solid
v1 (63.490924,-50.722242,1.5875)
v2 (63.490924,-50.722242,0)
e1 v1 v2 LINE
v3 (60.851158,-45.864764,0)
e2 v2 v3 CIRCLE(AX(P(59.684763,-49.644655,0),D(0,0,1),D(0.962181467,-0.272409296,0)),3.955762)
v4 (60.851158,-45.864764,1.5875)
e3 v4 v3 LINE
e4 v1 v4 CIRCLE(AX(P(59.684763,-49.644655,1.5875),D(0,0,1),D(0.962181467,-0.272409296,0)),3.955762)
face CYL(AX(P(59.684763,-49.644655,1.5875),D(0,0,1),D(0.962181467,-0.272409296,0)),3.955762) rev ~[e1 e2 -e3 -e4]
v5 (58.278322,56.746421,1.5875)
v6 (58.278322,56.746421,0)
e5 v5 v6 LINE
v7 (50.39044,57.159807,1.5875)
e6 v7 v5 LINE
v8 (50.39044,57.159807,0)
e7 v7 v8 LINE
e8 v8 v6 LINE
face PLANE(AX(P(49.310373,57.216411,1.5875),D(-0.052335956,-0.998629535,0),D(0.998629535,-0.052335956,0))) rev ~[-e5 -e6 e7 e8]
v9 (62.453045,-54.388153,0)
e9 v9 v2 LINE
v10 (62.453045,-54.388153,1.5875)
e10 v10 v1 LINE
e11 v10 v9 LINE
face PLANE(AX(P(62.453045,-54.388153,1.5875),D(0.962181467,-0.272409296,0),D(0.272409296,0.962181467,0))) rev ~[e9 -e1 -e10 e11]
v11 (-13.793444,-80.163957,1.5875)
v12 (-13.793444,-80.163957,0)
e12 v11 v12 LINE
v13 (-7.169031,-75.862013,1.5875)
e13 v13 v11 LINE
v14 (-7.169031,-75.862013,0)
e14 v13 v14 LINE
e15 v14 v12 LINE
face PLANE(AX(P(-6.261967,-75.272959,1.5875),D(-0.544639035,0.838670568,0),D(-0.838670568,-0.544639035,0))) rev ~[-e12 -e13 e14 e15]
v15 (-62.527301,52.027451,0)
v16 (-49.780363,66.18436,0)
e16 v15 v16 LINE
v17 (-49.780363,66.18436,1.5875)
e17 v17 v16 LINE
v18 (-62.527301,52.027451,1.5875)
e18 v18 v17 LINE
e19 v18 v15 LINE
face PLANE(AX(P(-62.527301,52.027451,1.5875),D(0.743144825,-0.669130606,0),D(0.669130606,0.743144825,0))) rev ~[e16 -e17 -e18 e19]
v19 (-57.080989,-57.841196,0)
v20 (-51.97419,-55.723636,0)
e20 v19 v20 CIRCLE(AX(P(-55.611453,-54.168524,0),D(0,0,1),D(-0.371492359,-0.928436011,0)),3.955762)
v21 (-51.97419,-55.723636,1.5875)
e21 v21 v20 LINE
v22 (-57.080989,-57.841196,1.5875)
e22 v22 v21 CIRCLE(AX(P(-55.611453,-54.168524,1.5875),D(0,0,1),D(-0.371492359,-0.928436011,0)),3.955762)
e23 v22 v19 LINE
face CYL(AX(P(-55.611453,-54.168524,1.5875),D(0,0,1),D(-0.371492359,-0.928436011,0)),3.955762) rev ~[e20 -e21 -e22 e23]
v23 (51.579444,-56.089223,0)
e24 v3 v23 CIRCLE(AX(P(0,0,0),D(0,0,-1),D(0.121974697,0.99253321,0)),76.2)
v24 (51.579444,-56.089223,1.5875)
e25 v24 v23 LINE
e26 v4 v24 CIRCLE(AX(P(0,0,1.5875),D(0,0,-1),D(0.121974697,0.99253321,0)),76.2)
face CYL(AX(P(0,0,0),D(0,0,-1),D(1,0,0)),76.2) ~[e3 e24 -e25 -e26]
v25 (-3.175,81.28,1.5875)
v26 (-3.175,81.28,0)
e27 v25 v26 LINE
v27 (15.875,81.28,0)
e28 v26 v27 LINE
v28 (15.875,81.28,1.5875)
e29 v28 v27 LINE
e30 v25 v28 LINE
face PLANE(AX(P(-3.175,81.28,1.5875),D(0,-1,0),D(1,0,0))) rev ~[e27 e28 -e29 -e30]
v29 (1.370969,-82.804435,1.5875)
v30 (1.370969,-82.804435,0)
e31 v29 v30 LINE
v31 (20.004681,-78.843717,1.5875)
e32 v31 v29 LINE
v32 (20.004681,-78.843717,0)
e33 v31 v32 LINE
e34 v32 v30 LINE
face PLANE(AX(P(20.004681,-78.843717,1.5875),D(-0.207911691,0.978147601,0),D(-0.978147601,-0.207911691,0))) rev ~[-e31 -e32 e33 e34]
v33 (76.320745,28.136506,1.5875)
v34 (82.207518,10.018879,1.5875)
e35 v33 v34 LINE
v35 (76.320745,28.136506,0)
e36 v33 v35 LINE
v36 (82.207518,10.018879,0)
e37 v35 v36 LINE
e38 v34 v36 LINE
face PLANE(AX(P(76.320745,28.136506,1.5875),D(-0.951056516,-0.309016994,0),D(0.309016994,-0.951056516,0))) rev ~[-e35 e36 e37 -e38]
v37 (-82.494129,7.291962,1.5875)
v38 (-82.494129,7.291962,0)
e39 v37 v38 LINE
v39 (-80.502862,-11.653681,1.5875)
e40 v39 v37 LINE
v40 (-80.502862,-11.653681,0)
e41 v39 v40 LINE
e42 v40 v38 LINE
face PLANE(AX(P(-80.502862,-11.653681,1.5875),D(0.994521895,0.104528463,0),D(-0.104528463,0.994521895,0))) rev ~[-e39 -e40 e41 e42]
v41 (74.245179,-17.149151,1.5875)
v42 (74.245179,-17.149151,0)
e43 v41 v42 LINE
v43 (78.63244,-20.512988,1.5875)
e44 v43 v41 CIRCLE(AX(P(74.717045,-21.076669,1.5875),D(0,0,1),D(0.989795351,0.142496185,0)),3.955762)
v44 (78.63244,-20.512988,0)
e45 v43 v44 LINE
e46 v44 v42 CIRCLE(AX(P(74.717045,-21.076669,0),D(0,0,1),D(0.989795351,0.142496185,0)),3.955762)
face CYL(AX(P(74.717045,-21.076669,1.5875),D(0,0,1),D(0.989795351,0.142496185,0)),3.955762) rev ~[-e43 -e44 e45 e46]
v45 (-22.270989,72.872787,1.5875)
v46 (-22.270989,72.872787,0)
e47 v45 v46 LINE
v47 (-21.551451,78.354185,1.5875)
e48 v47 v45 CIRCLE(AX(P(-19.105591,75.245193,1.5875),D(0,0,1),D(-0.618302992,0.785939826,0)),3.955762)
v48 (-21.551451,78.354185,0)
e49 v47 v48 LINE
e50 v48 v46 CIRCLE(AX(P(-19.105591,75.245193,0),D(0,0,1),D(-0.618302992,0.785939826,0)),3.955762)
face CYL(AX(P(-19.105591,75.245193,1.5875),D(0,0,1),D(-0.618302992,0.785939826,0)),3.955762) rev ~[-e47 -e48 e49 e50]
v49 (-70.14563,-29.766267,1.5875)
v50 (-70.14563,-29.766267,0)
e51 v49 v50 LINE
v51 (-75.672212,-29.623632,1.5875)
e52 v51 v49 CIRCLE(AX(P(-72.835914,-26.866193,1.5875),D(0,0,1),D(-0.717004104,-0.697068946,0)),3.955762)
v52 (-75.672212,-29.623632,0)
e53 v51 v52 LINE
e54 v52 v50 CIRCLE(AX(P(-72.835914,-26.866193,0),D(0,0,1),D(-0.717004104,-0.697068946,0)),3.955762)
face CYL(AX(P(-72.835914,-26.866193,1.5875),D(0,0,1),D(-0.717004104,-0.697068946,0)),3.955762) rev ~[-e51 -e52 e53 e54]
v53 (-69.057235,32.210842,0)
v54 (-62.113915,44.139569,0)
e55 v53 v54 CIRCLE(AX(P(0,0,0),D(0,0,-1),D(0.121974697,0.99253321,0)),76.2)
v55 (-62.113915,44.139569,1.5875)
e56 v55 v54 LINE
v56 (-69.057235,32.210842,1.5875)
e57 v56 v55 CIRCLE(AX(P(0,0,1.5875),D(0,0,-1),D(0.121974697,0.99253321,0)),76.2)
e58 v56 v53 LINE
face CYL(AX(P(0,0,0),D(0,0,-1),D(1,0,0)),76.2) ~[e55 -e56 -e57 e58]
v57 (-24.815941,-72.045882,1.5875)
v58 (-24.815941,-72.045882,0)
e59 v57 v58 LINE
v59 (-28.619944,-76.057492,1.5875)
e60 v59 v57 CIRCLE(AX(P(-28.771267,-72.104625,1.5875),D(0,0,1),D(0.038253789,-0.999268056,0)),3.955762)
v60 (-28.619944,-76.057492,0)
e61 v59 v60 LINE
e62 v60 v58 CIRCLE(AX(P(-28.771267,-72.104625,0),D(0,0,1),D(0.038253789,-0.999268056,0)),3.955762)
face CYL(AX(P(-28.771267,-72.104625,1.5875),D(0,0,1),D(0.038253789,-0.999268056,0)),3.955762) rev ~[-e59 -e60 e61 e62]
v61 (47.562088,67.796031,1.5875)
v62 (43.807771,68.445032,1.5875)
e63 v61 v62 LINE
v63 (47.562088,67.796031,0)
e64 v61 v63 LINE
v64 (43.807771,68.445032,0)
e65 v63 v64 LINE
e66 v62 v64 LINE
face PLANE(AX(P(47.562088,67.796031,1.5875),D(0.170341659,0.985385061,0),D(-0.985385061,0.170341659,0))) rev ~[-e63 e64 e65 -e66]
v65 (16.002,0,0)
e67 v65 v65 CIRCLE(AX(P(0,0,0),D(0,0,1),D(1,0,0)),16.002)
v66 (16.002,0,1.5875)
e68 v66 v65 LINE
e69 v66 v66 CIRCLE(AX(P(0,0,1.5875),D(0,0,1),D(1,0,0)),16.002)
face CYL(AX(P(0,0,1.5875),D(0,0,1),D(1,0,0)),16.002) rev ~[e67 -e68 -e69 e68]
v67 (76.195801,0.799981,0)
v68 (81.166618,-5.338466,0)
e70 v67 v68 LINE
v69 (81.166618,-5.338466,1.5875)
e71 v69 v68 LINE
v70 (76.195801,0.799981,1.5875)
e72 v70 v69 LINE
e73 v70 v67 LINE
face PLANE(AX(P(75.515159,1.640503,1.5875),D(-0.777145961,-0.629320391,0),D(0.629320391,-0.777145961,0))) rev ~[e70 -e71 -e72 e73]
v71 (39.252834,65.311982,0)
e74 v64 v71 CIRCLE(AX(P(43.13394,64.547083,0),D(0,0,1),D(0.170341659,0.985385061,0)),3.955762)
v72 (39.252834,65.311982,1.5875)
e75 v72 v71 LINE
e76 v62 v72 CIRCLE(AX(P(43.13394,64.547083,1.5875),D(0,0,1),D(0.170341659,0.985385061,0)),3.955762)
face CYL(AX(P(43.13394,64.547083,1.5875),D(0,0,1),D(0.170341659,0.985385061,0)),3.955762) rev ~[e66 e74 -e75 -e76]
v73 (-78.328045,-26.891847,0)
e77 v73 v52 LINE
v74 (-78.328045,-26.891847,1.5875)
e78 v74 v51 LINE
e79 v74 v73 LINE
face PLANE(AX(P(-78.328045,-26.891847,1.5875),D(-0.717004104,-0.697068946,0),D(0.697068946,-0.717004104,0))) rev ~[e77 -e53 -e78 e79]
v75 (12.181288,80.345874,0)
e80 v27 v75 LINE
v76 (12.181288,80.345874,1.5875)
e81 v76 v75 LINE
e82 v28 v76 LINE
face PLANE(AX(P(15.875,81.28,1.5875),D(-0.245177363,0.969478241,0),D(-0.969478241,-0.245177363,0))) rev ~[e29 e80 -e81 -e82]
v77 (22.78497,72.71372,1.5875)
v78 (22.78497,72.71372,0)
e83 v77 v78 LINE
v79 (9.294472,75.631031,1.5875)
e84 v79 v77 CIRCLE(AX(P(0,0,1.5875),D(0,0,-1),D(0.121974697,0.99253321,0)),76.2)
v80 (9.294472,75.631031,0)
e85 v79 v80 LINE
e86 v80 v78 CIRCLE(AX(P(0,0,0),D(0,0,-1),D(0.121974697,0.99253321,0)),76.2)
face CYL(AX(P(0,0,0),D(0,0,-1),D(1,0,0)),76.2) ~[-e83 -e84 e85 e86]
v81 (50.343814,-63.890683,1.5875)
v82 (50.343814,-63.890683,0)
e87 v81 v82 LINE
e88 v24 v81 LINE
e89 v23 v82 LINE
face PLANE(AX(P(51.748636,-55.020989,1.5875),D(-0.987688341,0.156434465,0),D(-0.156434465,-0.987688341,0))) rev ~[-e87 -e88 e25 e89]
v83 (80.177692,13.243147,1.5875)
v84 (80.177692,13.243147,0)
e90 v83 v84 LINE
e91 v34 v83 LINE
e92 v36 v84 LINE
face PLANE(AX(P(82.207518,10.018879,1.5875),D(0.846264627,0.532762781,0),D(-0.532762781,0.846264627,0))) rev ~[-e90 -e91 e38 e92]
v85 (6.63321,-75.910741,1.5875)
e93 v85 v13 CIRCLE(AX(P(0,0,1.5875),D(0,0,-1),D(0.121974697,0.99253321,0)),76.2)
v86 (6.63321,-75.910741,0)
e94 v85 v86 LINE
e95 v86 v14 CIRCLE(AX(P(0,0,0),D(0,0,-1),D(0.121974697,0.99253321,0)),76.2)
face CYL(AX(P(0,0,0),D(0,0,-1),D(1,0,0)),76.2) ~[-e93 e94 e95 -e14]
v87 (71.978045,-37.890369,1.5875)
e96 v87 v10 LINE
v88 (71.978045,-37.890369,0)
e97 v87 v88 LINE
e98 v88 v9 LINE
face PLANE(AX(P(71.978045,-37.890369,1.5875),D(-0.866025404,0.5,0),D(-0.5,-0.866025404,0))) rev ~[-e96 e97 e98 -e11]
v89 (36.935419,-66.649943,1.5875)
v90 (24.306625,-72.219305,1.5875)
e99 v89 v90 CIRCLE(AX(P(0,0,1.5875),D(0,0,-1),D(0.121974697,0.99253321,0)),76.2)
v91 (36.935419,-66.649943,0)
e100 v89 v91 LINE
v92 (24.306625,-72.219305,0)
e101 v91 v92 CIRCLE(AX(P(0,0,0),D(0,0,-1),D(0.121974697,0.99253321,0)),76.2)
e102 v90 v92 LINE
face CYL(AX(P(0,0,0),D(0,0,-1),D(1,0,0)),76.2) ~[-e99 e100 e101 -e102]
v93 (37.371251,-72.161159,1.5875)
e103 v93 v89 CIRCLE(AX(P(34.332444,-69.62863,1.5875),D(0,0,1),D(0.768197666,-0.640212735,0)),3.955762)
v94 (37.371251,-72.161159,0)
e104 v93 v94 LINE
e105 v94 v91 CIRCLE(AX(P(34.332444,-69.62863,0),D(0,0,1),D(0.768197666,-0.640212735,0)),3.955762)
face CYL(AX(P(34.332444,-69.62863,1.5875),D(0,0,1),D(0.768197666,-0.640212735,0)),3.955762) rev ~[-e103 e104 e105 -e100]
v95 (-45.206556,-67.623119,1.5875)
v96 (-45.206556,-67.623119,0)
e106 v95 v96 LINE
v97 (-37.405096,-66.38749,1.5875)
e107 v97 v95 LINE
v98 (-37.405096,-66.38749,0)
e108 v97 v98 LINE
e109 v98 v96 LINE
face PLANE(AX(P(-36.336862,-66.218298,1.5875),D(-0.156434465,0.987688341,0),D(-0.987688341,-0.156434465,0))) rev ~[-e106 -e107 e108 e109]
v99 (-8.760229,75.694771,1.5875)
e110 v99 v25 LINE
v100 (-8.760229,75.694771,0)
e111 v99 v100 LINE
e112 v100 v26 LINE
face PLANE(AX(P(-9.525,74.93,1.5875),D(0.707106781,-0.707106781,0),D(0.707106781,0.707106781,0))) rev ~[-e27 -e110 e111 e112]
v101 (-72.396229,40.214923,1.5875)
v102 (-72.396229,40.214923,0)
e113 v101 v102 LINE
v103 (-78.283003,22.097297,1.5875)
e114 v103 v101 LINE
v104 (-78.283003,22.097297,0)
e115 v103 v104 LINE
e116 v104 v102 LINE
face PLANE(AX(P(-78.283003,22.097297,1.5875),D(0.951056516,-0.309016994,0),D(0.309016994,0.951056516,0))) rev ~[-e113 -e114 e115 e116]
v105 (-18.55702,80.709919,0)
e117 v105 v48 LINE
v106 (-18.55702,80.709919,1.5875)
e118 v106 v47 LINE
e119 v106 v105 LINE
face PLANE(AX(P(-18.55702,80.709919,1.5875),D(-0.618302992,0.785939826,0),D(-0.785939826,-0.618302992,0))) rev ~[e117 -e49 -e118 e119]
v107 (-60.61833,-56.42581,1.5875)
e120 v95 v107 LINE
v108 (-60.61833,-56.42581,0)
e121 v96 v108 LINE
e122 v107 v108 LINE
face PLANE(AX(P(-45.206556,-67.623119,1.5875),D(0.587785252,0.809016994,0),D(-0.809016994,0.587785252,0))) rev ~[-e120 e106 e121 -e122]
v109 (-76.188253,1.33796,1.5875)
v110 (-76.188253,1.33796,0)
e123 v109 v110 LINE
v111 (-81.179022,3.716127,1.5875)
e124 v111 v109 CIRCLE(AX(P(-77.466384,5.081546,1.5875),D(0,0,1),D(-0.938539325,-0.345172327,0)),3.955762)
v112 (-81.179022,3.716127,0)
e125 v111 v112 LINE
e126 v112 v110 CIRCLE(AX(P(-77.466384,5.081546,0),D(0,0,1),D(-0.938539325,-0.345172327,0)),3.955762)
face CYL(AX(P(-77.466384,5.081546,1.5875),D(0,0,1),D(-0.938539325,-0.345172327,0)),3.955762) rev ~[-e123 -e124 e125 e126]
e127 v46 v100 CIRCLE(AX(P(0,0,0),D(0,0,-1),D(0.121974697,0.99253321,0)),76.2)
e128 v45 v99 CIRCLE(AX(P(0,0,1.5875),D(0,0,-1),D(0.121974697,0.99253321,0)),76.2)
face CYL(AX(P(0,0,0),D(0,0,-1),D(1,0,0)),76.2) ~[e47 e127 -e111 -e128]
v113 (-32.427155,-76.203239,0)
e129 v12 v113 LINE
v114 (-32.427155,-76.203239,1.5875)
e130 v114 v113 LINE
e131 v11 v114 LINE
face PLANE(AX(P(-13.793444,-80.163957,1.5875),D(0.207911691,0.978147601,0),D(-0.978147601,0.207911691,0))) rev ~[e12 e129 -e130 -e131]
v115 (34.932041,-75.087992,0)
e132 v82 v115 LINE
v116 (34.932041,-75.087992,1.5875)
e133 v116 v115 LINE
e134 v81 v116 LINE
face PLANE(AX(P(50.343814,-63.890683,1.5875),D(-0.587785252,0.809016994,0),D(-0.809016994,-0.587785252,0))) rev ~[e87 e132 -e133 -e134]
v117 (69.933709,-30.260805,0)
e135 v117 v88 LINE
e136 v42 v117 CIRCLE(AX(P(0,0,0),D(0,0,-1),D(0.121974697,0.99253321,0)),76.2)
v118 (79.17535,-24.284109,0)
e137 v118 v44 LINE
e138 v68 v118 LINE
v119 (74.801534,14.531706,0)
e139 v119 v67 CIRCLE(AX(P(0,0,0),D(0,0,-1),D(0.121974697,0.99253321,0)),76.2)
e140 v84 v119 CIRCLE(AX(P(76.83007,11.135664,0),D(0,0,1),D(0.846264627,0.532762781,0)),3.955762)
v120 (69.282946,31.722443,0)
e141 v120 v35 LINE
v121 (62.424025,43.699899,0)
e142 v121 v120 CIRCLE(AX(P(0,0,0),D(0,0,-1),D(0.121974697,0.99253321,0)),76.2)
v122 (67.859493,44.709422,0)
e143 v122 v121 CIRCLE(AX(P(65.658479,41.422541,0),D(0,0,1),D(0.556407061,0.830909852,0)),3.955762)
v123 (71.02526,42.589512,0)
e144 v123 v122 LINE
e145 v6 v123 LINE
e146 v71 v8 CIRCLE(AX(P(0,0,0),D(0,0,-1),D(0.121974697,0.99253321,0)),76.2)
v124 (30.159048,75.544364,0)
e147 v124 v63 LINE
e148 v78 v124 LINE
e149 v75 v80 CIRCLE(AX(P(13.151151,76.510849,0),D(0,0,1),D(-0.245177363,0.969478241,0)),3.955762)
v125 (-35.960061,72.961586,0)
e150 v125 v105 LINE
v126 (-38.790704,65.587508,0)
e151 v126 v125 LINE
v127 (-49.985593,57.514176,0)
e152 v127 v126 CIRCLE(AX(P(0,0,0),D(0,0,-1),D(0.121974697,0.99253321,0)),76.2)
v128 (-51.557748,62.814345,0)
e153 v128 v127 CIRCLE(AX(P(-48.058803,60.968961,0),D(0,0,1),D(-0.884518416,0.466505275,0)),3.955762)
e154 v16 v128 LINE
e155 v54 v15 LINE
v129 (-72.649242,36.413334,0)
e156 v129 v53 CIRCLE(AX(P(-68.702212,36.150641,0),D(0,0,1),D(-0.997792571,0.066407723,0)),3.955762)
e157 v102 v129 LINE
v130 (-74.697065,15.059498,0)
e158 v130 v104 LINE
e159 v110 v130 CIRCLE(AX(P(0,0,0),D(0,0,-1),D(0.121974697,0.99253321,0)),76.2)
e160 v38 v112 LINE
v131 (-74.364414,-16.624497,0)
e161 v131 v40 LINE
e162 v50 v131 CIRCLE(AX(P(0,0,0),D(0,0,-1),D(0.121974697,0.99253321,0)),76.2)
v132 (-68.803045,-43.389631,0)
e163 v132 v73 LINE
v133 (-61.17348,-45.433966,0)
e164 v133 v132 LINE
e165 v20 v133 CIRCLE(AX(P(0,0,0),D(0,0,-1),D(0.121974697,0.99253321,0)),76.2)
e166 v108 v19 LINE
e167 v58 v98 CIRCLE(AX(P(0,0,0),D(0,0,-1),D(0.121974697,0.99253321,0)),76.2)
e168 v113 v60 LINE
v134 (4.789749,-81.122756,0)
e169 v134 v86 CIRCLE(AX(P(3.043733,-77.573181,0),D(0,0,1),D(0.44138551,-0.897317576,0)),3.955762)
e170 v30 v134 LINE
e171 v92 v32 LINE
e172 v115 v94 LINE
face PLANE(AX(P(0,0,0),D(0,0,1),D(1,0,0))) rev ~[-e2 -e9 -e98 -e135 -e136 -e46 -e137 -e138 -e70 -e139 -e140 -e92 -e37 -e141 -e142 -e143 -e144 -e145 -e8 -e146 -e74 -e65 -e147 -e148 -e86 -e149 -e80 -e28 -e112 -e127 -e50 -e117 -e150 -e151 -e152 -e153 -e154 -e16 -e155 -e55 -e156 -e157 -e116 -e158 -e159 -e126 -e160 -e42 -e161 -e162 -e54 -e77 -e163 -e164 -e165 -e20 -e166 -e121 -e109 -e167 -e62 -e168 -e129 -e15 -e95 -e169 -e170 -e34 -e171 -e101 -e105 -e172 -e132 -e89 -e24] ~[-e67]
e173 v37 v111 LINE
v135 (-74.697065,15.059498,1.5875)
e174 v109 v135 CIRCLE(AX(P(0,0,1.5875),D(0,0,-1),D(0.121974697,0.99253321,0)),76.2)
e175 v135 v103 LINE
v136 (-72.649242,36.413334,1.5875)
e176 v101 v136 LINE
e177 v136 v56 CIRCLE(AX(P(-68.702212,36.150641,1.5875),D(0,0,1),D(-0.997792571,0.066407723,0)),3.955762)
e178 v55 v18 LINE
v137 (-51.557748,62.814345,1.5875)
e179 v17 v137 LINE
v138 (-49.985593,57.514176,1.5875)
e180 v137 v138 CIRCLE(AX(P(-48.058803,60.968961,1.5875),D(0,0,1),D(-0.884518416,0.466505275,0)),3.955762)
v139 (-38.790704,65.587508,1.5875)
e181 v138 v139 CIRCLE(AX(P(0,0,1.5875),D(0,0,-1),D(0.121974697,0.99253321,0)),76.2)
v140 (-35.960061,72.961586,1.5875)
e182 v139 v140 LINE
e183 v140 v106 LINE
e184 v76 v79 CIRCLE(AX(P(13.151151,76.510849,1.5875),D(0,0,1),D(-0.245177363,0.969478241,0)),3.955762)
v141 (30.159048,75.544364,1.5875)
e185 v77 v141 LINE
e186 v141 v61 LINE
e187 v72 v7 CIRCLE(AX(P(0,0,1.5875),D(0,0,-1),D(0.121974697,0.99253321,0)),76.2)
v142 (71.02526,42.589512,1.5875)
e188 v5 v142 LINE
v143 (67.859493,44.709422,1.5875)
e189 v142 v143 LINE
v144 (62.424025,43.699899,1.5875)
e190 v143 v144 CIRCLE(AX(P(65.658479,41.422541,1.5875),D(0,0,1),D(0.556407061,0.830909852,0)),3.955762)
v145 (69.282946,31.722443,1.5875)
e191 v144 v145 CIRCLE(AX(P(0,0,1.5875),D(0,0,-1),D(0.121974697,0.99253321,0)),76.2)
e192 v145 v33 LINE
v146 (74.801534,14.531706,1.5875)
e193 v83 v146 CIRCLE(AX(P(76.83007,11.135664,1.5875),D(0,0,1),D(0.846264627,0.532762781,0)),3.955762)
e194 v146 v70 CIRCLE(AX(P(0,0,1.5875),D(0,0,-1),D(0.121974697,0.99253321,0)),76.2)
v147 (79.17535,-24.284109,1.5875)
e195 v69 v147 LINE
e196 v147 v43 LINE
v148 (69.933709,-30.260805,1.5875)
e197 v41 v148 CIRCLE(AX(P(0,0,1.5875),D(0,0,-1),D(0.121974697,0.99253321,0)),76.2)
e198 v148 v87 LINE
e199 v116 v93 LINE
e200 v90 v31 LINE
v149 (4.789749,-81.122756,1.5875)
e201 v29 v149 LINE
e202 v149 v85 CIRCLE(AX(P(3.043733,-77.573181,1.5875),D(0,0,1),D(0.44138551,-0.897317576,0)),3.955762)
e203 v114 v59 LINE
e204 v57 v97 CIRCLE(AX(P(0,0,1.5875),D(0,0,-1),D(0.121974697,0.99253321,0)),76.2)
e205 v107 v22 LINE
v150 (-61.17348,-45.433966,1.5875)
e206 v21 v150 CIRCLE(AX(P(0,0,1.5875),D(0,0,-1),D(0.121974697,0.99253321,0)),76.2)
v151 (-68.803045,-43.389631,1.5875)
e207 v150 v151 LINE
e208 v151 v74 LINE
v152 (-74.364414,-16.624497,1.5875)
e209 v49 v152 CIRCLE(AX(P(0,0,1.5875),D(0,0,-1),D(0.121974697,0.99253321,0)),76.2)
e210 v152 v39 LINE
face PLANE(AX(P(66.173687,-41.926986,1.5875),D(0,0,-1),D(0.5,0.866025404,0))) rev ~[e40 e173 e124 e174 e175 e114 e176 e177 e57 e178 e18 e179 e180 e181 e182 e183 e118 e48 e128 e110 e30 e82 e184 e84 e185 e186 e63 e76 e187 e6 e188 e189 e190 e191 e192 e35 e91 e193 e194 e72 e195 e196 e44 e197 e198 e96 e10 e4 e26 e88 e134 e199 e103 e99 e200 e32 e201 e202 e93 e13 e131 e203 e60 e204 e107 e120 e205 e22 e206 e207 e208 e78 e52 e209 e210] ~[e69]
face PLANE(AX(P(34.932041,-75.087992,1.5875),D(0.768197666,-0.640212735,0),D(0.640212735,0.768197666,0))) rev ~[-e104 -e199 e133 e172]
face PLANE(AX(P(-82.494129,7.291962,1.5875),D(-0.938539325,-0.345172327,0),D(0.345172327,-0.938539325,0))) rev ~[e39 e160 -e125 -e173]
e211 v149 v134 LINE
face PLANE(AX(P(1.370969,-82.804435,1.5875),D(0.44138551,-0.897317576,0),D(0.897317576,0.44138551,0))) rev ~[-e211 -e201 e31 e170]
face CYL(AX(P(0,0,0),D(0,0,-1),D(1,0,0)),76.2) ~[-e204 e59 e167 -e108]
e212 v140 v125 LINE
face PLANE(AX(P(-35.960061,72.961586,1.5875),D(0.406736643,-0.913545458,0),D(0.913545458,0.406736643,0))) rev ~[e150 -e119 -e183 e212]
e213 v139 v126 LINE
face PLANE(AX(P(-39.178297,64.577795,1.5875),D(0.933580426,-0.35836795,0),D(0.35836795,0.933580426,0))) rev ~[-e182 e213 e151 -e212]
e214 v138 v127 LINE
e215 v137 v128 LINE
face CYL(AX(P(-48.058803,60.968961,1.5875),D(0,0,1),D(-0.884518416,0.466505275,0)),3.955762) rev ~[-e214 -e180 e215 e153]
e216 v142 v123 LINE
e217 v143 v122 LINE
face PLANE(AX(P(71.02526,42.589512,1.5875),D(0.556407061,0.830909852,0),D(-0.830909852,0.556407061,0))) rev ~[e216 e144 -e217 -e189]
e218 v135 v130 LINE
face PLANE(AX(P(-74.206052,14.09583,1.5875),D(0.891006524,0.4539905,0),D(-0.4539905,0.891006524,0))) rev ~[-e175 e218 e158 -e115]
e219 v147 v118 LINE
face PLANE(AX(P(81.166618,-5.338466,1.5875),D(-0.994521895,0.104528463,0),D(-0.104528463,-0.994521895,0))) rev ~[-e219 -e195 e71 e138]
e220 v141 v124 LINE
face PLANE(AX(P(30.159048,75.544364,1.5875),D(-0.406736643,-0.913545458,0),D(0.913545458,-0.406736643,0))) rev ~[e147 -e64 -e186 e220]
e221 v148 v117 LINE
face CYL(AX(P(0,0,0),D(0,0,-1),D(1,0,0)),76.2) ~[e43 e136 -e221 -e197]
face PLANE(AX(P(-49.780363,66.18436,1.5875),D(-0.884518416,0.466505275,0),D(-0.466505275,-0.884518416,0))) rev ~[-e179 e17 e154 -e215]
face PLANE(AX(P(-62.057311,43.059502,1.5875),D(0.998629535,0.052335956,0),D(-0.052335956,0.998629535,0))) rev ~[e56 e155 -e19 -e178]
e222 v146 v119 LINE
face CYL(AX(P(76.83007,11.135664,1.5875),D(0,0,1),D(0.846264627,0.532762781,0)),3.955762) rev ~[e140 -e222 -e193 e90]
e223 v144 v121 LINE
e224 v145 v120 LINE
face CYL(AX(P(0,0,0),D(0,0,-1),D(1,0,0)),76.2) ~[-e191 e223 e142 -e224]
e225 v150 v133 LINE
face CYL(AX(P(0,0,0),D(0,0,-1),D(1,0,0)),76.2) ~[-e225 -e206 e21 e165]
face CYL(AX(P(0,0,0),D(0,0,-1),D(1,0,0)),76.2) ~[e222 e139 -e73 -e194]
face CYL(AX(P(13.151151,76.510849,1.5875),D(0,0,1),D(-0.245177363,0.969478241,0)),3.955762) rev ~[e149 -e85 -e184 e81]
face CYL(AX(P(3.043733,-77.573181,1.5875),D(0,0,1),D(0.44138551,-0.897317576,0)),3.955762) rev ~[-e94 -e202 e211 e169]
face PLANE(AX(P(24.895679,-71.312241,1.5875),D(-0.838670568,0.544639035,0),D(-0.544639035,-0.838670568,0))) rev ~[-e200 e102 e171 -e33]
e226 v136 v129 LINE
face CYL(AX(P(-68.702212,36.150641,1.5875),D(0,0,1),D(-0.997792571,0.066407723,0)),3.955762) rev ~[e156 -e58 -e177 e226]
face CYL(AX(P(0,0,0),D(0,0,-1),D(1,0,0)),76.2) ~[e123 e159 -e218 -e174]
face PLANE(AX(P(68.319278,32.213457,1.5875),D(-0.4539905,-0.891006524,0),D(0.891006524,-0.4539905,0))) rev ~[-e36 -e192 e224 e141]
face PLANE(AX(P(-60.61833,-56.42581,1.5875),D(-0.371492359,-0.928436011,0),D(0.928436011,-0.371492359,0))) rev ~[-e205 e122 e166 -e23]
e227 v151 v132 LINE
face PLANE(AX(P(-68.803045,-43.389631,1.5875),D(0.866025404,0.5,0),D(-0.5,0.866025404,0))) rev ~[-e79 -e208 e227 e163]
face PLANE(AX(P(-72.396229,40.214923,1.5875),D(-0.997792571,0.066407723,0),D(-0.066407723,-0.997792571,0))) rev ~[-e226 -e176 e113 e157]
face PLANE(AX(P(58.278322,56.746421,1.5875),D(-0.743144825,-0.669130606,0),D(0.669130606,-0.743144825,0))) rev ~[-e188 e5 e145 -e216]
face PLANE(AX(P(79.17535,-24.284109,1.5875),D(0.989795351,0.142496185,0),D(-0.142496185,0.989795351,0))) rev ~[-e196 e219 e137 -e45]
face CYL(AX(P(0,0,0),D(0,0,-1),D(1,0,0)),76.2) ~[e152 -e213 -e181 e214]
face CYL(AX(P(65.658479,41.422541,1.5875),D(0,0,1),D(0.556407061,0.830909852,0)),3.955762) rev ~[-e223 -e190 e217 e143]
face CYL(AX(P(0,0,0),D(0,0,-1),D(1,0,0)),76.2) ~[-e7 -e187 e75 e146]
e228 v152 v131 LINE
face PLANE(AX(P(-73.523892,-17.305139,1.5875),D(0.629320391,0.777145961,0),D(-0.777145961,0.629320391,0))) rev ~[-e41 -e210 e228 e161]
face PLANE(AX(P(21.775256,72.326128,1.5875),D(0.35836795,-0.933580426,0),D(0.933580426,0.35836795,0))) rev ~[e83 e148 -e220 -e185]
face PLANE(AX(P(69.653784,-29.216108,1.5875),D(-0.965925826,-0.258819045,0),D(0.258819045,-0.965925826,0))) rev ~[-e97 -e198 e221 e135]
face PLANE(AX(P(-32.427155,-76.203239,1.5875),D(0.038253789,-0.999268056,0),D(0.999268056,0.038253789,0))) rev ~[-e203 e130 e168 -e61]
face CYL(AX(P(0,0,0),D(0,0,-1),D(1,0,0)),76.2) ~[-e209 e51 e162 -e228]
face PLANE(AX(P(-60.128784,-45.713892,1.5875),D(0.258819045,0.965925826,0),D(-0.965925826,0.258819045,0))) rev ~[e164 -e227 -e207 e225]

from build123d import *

# Parameters (mm, degrees)
SKETCH1_R           = 76.2
BOSS_EXTRUDE1_DEPTH = 1.5875
CUT_EXTRUDE1_REACH  = 109.775
SKETCH2_R           = 16.002
BOSS_EXTRUDE2_DEPTH = 1.5875
CIRPATTERN1_COUNT   = 15


with BuildPart() as part:
    # Sketch1 → Boss-Extrude1 (new body)
    with BuildSketch(Plane.XY):
        Circle(SKETCH1_R)
    extrude(amount=BOSS_EXTRUDE1_DEPTH)

    # Sketch2 → Cut-Extrude1 (cut, up to next)
    with BuildSketch(Plane.XY.offset(1.5875), mode=Mode.PRIVATE) as cut_extrude1_sk1:
        Circle(SKETCH2_R)
    cut_extrude1_tool1 = extrude(cut_extrude1_sk1.sketch, amount=-CUT_EXTRUDE1_REACH, mode=Mode.PRIVATE) & part.part
    add(cut_extrude1_tool1.solids().sort_by_distance((0, 0, 1.5875))[0], mode=Mode.SUBTRACT)

    # Sketch4 → Boss-Extrude2 (add)
    with BuildSketch(Plane.XY.offset(1.5875)):
        with BuildLine():
            Line((-9.525, 74.93), (-3.175, 81.28))
            Line((-3.175, 81.28), (15.875, 81.28))
            Line((15.875, 81.28), (12.1812879, 80.345874246))
            ThreePointArc((12.1812879, 80.345874246), (9.599565558, 78.252771398), (9.525, 74.93))
            Line((9.525, 74.93), (-9.525, 74.93))
        make_face()
    boss_extrude2 = extrude(amount=-BOSS_EXTRUDE2_DEPTH)

    # CirPattern1: Boss-Extrude2 ×15 about axis
    cirpattern1_axis = Axis((0, 0, 0), (0, 0, 1))
    for i in range(1, CIRPATTERN1_COUNT):
        add(boss_extrude2.rotate(cirpattern1_axis, i * 360 / CIRPATTERN1_COUNT))


solid = part.part
